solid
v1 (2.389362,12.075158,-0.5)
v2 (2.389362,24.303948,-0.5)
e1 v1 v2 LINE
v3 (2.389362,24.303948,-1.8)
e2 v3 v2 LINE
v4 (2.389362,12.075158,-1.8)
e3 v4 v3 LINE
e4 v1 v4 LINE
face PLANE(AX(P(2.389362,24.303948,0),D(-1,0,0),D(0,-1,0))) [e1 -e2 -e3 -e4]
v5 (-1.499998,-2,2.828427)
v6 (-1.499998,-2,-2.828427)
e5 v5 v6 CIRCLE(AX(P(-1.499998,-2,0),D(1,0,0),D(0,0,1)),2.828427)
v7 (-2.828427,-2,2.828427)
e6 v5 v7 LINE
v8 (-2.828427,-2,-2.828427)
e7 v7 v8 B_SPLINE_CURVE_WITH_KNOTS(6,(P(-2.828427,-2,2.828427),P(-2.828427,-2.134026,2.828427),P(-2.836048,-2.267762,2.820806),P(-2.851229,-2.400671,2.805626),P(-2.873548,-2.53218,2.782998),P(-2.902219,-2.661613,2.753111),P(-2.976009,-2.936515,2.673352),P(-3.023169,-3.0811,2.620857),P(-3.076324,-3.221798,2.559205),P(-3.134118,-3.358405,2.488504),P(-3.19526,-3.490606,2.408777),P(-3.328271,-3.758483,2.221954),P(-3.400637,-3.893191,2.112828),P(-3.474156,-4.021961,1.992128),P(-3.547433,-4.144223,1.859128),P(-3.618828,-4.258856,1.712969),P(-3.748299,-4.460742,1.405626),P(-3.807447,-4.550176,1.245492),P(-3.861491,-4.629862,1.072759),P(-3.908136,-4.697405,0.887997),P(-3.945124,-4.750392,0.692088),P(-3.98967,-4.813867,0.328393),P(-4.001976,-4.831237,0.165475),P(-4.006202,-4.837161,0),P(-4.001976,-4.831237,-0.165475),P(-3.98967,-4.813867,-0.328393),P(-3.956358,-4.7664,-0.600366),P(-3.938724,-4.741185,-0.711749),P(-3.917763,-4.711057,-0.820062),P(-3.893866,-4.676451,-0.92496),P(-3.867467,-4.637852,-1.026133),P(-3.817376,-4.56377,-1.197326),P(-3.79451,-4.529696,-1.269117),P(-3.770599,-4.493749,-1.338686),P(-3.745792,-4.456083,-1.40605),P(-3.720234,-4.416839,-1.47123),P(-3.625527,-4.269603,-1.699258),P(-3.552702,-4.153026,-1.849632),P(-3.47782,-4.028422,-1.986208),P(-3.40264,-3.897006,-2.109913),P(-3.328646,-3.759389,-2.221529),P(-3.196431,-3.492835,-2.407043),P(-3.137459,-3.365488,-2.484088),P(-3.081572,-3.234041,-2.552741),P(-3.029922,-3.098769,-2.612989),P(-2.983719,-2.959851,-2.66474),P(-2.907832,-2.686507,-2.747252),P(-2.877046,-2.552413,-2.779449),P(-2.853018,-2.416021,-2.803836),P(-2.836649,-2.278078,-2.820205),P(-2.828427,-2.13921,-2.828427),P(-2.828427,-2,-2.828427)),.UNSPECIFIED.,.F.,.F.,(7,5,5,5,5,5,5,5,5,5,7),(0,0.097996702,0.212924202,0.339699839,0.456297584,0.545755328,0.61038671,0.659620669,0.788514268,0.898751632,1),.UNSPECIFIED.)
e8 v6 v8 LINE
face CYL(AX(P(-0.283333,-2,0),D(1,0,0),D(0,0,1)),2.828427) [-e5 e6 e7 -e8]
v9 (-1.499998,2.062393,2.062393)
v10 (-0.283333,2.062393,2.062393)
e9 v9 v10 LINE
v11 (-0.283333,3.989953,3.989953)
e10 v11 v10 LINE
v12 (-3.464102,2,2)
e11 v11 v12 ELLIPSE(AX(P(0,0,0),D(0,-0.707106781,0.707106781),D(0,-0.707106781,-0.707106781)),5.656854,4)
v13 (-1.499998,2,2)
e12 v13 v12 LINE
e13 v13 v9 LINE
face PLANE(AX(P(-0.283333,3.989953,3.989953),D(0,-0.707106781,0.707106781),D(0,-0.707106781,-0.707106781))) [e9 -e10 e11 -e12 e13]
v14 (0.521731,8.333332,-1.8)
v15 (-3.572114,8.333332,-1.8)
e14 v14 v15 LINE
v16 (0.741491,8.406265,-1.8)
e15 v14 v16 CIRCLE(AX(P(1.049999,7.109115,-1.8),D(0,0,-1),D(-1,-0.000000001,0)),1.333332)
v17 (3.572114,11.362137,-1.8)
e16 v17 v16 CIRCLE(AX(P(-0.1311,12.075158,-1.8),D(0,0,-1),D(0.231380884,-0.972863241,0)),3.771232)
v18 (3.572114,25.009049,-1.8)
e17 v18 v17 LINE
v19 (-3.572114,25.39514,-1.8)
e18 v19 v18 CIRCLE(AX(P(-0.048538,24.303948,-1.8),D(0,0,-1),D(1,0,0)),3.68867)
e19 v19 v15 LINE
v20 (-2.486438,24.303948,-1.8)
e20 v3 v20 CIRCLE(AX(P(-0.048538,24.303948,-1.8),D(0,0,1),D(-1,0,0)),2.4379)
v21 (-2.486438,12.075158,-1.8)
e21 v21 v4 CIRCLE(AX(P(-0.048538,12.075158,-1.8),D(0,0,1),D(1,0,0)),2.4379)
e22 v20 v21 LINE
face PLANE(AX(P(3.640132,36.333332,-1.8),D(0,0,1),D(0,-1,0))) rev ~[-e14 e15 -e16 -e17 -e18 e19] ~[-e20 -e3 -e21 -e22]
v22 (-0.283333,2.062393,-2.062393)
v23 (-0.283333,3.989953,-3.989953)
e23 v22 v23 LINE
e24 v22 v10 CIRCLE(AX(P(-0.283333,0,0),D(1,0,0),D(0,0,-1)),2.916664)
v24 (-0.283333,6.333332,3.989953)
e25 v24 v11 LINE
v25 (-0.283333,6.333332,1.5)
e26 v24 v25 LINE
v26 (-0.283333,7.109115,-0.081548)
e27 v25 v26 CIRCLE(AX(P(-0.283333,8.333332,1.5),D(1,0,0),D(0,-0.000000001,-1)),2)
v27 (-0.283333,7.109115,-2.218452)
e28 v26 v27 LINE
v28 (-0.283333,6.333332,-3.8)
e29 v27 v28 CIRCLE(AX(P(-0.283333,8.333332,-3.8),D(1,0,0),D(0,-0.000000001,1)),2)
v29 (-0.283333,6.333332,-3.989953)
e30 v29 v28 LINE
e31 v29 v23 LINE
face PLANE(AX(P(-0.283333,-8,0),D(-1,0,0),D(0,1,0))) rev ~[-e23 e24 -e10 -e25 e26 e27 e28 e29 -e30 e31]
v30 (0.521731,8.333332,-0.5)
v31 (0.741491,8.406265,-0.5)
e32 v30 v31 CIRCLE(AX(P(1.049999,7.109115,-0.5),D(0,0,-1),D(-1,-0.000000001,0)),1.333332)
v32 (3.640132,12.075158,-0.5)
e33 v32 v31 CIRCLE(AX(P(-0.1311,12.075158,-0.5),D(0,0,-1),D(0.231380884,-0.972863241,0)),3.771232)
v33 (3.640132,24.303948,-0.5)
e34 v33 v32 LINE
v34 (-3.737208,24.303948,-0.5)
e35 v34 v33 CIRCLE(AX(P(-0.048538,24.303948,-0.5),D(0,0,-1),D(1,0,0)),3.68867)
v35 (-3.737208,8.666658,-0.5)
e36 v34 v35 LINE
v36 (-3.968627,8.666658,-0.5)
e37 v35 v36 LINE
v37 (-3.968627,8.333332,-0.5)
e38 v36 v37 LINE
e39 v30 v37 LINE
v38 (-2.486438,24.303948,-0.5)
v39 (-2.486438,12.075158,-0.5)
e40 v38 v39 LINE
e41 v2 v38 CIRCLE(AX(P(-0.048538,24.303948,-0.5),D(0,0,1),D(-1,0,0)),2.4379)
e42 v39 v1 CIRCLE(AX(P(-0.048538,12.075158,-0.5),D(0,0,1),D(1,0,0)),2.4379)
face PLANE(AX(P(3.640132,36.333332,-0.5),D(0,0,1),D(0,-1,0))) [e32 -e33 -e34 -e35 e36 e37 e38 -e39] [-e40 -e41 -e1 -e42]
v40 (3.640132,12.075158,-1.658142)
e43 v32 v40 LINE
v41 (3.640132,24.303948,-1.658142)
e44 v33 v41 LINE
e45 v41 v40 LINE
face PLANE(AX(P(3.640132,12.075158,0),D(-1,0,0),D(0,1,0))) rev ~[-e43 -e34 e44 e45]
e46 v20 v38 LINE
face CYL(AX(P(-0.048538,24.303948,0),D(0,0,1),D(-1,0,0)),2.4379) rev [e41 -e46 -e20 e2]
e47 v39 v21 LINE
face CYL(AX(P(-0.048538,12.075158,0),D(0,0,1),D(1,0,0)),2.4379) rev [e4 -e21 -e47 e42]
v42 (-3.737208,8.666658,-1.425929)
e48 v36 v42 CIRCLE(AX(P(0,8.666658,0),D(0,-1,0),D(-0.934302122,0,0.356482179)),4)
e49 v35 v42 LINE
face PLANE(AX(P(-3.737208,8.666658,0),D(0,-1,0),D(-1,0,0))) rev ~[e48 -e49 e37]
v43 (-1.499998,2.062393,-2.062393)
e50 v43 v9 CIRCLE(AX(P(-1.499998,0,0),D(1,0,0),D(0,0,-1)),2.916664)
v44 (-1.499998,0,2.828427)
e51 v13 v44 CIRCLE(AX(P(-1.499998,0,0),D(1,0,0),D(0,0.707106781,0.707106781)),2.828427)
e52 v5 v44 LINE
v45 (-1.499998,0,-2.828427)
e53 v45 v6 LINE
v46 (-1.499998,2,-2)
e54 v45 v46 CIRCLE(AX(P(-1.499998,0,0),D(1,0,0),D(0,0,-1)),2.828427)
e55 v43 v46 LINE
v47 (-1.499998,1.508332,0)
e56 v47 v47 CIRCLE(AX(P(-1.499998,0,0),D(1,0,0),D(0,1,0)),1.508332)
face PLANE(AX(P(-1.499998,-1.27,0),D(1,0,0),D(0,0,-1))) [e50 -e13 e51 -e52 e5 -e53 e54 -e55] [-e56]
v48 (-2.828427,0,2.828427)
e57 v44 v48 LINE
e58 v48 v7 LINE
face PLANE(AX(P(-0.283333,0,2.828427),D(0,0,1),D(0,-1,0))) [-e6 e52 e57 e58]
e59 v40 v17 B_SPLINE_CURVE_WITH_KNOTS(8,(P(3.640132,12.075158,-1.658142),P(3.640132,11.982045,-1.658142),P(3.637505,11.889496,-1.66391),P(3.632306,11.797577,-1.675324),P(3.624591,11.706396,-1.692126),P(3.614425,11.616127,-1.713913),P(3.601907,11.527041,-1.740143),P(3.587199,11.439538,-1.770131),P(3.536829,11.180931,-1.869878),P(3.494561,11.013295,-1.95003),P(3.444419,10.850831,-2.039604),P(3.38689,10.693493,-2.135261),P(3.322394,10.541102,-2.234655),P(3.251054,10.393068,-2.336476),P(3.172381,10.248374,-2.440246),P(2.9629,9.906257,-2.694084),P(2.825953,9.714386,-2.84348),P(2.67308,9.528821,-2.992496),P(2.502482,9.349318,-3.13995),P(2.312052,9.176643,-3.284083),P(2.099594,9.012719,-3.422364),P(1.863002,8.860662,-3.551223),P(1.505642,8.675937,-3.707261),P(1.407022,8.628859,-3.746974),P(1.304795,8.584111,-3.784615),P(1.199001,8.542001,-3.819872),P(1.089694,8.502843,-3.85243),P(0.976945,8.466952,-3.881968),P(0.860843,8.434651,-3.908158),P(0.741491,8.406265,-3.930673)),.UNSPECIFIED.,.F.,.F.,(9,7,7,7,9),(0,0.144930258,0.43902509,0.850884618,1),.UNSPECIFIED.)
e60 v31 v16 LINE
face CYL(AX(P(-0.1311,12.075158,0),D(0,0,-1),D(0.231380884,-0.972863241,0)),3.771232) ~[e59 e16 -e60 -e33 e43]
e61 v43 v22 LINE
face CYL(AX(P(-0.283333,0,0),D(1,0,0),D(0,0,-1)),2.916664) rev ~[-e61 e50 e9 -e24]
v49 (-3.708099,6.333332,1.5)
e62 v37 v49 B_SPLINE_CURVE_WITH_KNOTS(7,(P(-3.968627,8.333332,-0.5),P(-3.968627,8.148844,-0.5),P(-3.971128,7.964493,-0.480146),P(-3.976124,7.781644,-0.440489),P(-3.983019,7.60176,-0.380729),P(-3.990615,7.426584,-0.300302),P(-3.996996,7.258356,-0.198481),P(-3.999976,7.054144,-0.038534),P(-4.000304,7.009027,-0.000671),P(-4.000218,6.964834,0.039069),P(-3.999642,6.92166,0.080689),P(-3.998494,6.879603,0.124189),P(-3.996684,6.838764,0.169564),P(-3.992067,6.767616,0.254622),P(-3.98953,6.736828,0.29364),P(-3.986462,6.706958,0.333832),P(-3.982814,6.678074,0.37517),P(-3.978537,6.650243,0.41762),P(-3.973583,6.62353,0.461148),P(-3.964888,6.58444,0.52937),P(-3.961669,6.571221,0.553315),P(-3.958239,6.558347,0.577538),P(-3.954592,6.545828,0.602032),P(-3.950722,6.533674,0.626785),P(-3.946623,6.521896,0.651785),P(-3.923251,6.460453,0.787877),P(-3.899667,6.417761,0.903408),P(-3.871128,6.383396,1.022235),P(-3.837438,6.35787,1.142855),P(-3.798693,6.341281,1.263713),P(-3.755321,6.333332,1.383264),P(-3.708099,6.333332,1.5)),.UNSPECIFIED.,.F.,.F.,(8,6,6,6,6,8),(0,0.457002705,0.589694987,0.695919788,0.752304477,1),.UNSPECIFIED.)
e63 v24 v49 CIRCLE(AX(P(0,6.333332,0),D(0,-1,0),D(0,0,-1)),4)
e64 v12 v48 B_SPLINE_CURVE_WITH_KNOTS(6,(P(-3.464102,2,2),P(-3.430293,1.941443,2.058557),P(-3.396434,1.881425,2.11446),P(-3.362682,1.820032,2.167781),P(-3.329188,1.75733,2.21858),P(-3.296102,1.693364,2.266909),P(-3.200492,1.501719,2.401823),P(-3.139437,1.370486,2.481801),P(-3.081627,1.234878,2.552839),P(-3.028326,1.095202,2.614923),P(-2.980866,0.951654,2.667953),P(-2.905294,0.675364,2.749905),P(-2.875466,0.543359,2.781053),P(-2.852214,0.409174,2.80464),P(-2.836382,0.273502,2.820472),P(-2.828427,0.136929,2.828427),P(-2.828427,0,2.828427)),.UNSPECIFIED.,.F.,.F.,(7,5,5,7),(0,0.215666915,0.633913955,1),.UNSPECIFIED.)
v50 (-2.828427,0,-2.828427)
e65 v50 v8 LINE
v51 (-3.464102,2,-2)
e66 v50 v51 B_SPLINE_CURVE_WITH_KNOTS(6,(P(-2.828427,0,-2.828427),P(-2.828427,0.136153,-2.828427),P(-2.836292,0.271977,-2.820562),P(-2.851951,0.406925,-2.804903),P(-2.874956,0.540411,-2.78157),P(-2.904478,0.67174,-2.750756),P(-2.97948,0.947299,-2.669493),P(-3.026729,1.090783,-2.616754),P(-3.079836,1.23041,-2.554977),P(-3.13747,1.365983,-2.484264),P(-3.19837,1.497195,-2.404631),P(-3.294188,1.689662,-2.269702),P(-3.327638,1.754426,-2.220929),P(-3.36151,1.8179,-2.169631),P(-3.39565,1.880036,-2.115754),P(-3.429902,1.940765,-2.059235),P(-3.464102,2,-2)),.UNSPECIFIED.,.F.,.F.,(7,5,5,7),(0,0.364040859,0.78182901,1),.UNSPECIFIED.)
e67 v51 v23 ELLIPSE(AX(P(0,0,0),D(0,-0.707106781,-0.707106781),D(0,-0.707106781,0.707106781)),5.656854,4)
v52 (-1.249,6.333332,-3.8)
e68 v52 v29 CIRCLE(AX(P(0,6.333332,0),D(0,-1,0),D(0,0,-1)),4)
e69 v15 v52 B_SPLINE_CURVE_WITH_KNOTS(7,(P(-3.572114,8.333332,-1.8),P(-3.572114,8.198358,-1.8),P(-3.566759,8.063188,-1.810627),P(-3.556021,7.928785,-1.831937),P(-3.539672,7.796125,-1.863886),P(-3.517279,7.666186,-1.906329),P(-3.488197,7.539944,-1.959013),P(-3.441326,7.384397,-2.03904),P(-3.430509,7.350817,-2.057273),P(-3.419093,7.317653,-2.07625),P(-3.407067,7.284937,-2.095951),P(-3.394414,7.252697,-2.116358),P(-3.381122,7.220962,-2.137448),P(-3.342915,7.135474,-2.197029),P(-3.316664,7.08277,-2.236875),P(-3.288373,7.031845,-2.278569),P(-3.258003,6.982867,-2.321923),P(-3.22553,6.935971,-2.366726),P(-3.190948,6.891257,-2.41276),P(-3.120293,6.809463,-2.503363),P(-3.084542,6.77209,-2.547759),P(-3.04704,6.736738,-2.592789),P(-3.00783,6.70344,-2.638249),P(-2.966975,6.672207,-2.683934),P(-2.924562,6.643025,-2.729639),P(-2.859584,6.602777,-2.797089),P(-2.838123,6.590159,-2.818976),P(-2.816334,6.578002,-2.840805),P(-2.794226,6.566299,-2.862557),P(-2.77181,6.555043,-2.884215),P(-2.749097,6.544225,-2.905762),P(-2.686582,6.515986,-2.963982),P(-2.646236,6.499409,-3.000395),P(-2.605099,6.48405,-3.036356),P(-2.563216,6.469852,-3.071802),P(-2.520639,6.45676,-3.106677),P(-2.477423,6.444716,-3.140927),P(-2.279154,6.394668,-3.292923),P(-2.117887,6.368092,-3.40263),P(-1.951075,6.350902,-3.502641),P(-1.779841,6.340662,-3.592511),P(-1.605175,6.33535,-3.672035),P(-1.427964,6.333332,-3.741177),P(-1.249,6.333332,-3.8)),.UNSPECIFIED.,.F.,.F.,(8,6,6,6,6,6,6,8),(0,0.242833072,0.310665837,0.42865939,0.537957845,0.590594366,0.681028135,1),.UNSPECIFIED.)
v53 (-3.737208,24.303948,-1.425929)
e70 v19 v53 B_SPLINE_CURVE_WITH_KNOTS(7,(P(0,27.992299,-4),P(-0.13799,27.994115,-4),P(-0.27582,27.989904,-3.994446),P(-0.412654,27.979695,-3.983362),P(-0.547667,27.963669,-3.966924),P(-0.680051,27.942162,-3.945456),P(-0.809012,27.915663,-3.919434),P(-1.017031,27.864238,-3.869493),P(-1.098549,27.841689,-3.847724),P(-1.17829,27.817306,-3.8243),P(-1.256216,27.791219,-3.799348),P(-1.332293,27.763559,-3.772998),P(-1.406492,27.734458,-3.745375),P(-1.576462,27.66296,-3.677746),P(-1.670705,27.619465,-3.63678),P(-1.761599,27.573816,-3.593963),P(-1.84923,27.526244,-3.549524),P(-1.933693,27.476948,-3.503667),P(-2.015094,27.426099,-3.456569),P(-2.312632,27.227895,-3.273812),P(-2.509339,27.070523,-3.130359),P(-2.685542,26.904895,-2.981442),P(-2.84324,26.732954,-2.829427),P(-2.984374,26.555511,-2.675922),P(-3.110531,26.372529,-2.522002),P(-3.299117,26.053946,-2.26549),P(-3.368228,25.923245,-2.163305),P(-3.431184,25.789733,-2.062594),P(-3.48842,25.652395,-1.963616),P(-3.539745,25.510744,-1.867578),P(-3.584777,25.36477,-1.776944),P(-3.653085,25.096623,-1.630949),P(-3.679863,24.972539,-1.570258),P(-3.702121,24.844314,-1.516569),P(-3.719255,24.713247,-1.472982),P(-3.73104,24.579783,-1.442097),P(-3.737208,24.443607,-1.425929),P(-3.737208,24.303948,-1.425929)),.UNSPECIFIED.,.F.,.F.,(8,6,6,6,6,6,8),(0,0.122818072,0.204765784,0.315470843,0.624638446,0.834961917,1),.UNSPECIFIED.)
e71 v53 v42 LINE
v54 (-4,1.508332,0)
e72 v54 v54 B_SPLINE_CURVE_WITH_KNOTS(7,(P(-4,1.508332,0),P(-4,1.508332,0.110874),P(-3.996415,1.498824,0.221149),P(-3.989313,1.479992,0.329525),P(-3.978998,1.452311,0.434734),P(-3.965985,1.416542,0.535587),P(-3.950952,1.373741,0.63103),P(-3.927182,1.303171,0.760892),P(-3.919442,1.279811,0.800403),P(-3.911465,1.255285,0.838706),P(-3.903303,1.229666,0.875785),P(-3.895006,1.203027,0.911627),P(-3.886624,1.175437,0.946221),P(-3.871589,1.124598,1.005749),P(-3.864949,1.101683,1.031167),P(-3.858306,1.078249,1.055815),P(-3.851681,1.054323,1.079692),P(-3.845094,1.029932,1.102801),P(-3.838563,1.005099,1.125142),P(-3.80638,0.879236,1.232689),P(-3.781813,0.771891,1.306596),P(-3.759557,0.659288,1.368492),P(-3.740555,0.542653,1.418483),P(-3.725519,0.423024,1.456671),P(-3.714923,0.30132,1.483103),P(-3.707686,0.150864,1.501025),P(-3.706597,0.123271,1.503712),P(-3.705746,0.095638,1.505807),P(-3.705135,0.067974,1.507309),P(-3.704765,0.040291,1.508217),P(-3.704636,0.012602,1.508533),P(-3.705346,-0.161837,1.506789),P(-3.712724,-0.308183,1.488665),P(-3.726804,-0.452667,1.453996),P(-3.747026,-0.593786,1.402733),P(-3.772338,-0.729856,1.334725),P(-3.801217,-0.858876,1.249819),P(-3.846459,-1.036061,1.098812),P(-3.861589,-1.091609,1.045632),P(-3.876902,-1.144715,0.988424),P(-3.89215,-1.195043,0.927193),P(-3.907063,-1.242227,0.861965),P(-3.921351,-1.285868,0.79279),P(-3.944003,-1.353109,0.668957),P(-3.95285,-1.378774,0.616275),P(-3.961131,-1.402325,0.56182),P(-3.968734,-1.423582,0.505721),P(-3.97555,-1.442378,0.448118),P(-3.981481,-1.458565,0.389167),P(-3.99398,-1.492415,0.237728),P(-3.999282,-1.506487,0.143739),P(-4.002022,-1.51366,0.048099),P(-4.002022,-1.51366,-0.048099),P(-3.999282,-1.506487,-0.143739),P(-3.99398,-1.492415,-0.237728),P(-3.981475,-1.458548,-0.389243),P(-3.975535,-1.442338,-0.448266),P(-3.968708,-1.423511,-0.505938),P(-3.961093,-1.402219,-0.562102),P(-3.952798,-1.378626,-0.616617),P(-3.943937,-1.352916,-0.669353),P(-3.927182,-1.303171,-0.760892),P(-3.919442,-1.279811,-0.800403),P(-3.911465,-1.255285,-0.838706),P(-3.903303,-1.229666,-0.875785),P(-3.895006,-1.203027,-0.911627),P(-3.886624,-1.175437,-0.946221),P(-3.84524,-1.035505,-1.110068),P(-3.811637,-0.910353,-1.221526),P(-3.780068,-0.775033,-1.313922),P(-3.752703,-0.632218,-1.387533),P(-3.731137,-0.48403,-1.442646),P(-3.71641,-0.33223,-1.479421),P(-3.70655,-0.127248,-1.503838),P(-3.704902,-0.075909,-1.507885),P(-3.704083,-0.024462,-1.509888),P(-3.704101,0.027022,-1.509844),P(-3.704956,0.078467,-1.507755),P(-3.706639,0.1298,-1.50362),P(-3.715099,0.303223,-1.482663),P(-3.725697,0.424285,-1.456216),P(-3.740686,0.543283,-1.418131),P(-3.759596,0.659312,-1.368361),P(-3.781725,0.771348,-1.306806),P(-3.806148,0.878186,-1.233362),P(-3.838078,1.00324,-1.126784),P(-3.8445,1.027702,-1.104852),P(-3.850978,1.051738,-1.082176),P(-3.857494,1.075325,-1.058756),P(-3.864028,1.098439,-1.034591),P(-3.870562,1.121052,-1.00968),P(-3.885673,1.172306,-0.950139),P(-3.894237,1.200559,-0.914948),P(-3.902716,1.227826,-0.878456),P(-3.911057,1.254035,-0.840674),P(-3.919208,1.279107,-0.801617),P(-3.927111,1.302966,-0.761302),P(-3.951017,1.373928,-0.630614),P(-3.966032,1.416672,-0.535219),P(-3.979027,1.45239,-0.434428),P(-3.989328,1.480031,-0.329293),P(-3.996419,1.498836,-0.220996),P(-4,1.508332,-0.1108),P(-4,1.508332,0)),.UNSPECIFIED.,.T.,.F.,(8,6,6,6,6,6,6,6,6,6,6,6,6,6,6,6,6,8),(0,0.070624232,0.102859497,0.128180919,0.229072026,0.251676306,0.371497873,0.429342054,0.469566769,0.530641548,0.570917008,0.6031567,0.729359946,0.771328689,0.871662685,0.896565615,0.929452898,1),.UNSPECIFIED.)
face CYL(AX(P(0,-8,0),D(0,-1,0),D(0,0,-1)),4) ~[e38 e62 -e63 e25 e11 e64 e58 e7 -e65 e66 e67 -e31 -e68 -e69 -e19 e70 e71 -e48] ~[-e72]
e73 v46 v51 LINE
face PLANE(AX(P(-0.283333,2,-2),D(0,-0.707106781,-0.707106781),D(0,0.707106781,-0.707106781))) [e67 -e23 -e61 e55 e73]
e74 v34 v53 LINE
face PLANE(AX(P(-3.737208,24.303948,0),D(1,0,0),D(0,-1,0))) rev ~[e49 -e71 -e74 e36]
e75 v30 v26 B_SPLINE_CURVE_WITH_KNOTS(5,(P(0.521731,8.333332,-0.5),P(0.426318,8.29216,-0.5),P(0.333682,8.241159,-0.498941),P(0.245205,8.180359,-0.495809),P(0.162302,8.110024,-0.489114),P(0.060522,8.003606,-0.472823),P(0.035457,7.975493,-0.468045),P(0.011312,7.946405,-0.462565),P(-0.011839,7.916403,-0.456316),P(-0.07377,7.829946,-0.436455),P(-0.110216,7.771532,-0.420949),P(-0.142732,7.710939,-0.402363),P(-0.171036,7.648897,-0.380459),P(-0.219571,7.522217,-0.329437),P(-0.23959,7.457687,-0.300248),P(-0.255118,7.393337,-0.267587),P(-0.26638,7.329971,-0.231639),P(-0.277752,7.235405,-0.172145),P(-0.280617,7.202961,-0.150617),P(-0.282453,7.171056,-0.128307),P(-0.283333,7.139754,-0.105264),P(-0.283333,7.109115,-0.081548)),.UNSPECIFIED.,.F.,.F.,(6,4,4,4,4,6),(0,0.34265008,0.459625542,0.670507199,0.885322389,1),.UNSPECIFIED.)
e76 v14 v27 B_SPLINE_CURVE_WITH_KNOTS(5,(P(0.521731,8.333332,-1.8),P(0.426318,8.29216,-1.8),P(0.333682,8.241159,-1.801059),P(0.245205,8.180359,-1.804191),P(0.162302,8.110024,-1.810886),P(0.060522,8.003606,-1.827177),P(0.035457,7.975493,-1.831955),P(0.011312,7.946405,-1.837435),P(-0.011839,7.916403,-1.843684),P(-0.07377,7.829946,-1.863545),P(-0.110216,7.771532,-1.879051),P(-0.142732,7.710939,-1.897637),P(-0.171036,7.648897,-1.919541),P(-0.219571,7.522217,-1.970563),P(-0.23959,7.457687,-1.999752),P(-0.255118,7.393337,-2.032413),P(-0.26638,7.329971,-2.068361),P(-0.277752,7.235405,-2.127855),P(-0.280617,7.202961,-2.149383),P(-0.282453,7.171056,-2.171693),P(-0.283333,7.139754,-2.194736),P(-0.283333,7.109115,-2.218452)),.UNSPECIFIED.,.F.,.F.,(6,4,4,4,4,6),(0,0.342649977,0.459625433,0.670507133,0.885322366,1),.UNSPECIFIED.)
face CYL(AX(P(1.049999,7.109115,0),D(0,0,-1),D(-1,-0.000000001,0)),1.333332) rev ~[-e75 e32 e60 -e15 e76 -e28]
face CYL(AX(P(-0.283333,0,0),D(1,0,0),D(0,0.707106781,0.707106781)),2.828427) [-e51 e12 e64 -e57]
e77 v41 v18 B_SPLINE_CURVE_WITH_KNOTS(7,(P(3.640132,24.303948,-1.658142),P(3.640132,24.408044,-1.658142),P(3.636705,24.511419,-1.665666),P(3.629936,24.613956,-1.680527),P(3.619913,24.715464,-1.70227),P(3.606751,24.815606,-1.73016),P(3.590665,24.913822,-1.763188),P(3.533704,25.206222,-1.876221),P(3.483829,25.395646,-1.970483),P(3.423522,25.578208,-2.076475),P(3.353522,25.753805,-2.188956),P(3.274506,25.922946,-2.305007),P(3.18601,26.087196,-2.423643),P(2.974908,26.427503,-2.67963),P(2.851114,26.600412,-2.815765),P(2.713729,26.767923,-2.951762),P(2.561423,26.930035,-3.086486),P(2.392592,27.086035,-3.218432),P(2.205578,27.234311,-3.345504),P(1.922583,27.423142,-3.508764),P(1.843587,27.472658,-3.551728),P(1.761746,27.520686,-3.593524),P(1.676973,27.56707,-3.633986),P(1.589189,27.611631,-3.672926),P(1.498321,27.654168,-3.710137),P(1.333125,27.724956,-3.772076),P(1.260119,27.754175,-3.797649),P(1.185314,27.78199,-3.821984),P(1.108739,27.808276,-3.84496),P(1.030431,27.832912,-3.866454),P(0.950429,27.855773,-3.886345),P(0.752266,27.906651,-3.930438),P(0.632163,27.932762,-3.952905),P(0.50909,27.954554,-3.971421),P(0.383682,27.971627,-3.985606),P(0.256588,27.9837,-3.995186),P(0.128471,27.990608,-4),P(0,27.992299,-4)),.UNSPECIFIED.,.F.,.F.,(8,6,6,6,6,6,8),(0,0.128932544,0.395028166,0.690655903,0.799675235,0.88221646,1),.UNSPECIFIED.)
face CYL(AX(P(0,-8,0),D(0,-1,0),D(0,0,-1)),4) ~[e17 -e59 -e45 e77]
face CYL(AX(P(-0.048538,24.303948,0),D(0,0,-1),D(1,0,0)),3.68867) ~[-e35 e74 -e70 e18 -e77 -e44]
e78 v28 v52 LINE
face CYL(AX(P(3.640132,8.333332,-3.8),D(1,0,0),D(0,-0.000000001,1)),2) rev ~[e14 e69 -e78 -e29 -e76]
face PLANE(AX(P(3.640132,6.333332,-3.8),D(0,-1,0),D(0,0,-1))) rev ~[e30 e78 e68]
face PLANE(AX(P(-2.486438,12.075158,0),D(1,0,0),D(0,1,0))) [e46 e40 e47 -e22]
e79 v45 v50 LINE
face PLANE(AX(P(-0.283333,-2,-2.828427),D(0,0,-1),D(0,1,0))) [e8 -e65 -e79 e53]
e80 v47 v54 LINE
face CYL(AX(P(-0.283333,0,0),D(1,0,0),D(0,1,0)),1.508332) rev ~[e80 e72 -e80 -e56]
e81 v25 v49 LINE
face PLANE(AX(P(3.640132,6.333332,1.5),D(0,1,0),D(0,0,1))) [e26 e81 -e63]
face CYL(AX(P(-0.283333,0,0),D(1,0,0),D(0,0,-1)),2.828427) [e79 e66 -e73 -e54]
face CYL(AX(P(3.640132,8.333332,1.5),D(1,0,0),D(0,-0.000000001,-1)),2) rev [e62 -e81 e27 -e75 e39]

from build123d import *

# Parameters (mm, degrees)
BOSS_EXTRUDE1_START = -8
SKETCH1_R           = 4
BOSS_EXTRUDE1_DEPTH = 38.1
SKETCH2_OUTSIDE_W   = 17.948
SKETCH2_OUTSIDE_H   = 48.048
CUT_EXTRUDE1_DEPTH  = 5
CUT_EXTRUDE2_DEPTH  = 30.290925305
SKETCH4_R           = 1.508332
CUT_EXTRUDE3_DEPTH  = 29.54645306
CUT_EXTRUDE4_DEPTH  = 1.216665


with BuildPart() as part:
    # Sketch1 → Boss-Extrude1 (new body)
    with BuildSketch(Plane(origin=(0, 0, 0), x_dir=(1, 0, 0), z_dir=(0, 1, 0)).offset(BOSS_EXTRUDE1_START)):
        with Locations(Location((0, 0, 0), (0, 0, 90))):
            Circle(SKETCH1_R)
    extrude(amount=BOSS_EXTRUDE1_DEPTH)

    # Sketch2 outside → Cut-Extrude1 (cut, symmetric)
    # profile 1 of 2: a face of its own
    with BuildSketch(Plane.XY):
        with Locations((0, 11.05)):
            Rectangle(SKETCH2_OUTSIDE_W, SKETCH2_OUTSIDE_H)
        with BuildLine():
            Line((-0.283333, -8), (-0.283333, 7.109115))
            ThreePointArc((-0.283333, 7.109115), (0.003787455, 7.935683585), (0.741491463, 8.406264691))
            ThreePointArc((0.741491463, 8.406264691), (2.828033272, 9.737268918), (3.64013247, 12.075157679))
            Line((3.64013247, 12.075157679), (3.64013247, 24.303947679))
            ThreePointArc((3.64013247, 24.303947679), (-0.04853801, 27.99261816), (-3.73720849, 24.303947679))
            Line((-3.73720849, 24.303947679), (-3.73720849, 8.666658))
            Line((-3.73720849, 8.666658), (-4, 8.666658))
            Line((-4, 8.666658), (-4, -8))
            Line((-4, -8), (-0.283333, -8))
        make_face(mode=Mode.SUBTRACT)
    # profile 2 of 2: a face of its own
    with BuildSketch(Plane.XY):
        with BuildLine():
            Line((2.38936199, 24.303947679), (2.38936199, 12.075157679))
            ThreePointArc((2.38936199, 12.075157679), (-0.04853801, 9.637257679), (-2.48643801, 12.075157679))
            Line((-2.48643801, 12.075157679), (-2.48643801, 24.303947679))
            ThreePointArc((-2.48643801, 24.303947679), (-0.04853801, 26.741847679), (2.38936199, 24.303947679))
        make_face()
    extrude(amount=CUT_EXTRUDE1_DEPTH, both=True, mode=Mode.SUBTRACT)

    # Sketch3 → Cut-Extrude2 (cut, through all)
    with BuildSketch(Plane(origin=(3.64013247, 0, 0), x_dir=(0, 0, -1), z_dir=(1, 0, 0))):
        with BuildLine():
            Line((-1.5, 6.333332), (-6.5, 6.333332))
            Line((-6.5, 6.333332), (-6.5, 36.333332))
            Line((-6.5, 36.333332), (0.5, 36.333332))
            Line((0.5, 36.333332), (0.5, 8.333332))
            ThreePointArc((0.5, 8.333332), (-0.085786438, 6.919118438), (-1.5, 6.333332))
        make_face()
        with BuildLine():
            Line((1.8, 36.333332), (1.8, 8.333332))
            ThreePointArc((1.8, 8.333332), (2.385786438, 6.919118438), (3.8, 6.333332))
            Line((3.8, 6.333332), (5.8, 6.333332))
            Line((5.8, 6.333332), (5.8, 36.333332))
            Line((5.8, 36.333332), (1.8, 36.333332))
        make_face()
    extrude(amount=-CUT_EXTRUDE2_DEPTH, mode=Mode.SUBTRACT)

    # Sketch4 → Cut-Extrude3 (cut, through all)
    with BuildSketch(Plane(origin=(-0.283333, 0, 0), x_dir=(0, 0, -1), z_dir=(1, 0, 0))):
        with Locations(Location((0, 0, 0), (0, 0, 90))):
            Circle(SKETCH4_R)
        with BuildLine():
            Line((-2.828427125, 0), (-2.828427125, -2))
            ThreePointArc((-2.828427125, -2), (0, -4.828427125), (2.828427125, -2))
            Line((2.828427125, -2), (2.828427125, 0))
            ThreePointArc((2.828427125, 0), (2.61312593, 1.0823922), (2, 2))
            Line((2, 2), (3.989952683, 3.989952683))
            Line((3.989952683, 3.989952683), (5, 3.989952683))
            Line((5, 3.989952683), (5, -11.010047317))
            Line((5, -11.010047317), (-5, -11.010047317))
            Line((-5, -11.010047317), (-5, 3.989952683))
            Line((-5, 3.989952683), (-3.989952683, 3.989952683))
            Line((-3.989952683, 3.989952683), (-2, 2))
            ThreePointArc((-2, 2), (-2.61312593, 1.0823922), (-2.828427125, 0))
        make_face()
    extrude(amount=-CUT_EXTRUDE3_DEPTH, mode=Mode.SUBTRACT)

    # Sketch5 → Cut-Extrude4 (cut)
    with BuildSketch(Plane(origin=(-0.283333, 0, 0), x_dir=(0, 0, -1), z_dir=(1, 0, 0))):
        with BuildLine():
            Line((-2.916664, 0), (-2.916664, -2.54))
            ThreePointArc((-2.916664, -2.54), (0, -5.456664), (2.916664, -2.54))
            Line((2.916664, -2.54), (2.916664, 0))
            ThreePointArc((2.916664, 0), (0, 2.916664), (-2.916664, 0))
        make_face()
    extrude(amount=-CUT_EXTRUDE4_DEPTH, mode=Mode.SUBTRACT)


solid = part.part
